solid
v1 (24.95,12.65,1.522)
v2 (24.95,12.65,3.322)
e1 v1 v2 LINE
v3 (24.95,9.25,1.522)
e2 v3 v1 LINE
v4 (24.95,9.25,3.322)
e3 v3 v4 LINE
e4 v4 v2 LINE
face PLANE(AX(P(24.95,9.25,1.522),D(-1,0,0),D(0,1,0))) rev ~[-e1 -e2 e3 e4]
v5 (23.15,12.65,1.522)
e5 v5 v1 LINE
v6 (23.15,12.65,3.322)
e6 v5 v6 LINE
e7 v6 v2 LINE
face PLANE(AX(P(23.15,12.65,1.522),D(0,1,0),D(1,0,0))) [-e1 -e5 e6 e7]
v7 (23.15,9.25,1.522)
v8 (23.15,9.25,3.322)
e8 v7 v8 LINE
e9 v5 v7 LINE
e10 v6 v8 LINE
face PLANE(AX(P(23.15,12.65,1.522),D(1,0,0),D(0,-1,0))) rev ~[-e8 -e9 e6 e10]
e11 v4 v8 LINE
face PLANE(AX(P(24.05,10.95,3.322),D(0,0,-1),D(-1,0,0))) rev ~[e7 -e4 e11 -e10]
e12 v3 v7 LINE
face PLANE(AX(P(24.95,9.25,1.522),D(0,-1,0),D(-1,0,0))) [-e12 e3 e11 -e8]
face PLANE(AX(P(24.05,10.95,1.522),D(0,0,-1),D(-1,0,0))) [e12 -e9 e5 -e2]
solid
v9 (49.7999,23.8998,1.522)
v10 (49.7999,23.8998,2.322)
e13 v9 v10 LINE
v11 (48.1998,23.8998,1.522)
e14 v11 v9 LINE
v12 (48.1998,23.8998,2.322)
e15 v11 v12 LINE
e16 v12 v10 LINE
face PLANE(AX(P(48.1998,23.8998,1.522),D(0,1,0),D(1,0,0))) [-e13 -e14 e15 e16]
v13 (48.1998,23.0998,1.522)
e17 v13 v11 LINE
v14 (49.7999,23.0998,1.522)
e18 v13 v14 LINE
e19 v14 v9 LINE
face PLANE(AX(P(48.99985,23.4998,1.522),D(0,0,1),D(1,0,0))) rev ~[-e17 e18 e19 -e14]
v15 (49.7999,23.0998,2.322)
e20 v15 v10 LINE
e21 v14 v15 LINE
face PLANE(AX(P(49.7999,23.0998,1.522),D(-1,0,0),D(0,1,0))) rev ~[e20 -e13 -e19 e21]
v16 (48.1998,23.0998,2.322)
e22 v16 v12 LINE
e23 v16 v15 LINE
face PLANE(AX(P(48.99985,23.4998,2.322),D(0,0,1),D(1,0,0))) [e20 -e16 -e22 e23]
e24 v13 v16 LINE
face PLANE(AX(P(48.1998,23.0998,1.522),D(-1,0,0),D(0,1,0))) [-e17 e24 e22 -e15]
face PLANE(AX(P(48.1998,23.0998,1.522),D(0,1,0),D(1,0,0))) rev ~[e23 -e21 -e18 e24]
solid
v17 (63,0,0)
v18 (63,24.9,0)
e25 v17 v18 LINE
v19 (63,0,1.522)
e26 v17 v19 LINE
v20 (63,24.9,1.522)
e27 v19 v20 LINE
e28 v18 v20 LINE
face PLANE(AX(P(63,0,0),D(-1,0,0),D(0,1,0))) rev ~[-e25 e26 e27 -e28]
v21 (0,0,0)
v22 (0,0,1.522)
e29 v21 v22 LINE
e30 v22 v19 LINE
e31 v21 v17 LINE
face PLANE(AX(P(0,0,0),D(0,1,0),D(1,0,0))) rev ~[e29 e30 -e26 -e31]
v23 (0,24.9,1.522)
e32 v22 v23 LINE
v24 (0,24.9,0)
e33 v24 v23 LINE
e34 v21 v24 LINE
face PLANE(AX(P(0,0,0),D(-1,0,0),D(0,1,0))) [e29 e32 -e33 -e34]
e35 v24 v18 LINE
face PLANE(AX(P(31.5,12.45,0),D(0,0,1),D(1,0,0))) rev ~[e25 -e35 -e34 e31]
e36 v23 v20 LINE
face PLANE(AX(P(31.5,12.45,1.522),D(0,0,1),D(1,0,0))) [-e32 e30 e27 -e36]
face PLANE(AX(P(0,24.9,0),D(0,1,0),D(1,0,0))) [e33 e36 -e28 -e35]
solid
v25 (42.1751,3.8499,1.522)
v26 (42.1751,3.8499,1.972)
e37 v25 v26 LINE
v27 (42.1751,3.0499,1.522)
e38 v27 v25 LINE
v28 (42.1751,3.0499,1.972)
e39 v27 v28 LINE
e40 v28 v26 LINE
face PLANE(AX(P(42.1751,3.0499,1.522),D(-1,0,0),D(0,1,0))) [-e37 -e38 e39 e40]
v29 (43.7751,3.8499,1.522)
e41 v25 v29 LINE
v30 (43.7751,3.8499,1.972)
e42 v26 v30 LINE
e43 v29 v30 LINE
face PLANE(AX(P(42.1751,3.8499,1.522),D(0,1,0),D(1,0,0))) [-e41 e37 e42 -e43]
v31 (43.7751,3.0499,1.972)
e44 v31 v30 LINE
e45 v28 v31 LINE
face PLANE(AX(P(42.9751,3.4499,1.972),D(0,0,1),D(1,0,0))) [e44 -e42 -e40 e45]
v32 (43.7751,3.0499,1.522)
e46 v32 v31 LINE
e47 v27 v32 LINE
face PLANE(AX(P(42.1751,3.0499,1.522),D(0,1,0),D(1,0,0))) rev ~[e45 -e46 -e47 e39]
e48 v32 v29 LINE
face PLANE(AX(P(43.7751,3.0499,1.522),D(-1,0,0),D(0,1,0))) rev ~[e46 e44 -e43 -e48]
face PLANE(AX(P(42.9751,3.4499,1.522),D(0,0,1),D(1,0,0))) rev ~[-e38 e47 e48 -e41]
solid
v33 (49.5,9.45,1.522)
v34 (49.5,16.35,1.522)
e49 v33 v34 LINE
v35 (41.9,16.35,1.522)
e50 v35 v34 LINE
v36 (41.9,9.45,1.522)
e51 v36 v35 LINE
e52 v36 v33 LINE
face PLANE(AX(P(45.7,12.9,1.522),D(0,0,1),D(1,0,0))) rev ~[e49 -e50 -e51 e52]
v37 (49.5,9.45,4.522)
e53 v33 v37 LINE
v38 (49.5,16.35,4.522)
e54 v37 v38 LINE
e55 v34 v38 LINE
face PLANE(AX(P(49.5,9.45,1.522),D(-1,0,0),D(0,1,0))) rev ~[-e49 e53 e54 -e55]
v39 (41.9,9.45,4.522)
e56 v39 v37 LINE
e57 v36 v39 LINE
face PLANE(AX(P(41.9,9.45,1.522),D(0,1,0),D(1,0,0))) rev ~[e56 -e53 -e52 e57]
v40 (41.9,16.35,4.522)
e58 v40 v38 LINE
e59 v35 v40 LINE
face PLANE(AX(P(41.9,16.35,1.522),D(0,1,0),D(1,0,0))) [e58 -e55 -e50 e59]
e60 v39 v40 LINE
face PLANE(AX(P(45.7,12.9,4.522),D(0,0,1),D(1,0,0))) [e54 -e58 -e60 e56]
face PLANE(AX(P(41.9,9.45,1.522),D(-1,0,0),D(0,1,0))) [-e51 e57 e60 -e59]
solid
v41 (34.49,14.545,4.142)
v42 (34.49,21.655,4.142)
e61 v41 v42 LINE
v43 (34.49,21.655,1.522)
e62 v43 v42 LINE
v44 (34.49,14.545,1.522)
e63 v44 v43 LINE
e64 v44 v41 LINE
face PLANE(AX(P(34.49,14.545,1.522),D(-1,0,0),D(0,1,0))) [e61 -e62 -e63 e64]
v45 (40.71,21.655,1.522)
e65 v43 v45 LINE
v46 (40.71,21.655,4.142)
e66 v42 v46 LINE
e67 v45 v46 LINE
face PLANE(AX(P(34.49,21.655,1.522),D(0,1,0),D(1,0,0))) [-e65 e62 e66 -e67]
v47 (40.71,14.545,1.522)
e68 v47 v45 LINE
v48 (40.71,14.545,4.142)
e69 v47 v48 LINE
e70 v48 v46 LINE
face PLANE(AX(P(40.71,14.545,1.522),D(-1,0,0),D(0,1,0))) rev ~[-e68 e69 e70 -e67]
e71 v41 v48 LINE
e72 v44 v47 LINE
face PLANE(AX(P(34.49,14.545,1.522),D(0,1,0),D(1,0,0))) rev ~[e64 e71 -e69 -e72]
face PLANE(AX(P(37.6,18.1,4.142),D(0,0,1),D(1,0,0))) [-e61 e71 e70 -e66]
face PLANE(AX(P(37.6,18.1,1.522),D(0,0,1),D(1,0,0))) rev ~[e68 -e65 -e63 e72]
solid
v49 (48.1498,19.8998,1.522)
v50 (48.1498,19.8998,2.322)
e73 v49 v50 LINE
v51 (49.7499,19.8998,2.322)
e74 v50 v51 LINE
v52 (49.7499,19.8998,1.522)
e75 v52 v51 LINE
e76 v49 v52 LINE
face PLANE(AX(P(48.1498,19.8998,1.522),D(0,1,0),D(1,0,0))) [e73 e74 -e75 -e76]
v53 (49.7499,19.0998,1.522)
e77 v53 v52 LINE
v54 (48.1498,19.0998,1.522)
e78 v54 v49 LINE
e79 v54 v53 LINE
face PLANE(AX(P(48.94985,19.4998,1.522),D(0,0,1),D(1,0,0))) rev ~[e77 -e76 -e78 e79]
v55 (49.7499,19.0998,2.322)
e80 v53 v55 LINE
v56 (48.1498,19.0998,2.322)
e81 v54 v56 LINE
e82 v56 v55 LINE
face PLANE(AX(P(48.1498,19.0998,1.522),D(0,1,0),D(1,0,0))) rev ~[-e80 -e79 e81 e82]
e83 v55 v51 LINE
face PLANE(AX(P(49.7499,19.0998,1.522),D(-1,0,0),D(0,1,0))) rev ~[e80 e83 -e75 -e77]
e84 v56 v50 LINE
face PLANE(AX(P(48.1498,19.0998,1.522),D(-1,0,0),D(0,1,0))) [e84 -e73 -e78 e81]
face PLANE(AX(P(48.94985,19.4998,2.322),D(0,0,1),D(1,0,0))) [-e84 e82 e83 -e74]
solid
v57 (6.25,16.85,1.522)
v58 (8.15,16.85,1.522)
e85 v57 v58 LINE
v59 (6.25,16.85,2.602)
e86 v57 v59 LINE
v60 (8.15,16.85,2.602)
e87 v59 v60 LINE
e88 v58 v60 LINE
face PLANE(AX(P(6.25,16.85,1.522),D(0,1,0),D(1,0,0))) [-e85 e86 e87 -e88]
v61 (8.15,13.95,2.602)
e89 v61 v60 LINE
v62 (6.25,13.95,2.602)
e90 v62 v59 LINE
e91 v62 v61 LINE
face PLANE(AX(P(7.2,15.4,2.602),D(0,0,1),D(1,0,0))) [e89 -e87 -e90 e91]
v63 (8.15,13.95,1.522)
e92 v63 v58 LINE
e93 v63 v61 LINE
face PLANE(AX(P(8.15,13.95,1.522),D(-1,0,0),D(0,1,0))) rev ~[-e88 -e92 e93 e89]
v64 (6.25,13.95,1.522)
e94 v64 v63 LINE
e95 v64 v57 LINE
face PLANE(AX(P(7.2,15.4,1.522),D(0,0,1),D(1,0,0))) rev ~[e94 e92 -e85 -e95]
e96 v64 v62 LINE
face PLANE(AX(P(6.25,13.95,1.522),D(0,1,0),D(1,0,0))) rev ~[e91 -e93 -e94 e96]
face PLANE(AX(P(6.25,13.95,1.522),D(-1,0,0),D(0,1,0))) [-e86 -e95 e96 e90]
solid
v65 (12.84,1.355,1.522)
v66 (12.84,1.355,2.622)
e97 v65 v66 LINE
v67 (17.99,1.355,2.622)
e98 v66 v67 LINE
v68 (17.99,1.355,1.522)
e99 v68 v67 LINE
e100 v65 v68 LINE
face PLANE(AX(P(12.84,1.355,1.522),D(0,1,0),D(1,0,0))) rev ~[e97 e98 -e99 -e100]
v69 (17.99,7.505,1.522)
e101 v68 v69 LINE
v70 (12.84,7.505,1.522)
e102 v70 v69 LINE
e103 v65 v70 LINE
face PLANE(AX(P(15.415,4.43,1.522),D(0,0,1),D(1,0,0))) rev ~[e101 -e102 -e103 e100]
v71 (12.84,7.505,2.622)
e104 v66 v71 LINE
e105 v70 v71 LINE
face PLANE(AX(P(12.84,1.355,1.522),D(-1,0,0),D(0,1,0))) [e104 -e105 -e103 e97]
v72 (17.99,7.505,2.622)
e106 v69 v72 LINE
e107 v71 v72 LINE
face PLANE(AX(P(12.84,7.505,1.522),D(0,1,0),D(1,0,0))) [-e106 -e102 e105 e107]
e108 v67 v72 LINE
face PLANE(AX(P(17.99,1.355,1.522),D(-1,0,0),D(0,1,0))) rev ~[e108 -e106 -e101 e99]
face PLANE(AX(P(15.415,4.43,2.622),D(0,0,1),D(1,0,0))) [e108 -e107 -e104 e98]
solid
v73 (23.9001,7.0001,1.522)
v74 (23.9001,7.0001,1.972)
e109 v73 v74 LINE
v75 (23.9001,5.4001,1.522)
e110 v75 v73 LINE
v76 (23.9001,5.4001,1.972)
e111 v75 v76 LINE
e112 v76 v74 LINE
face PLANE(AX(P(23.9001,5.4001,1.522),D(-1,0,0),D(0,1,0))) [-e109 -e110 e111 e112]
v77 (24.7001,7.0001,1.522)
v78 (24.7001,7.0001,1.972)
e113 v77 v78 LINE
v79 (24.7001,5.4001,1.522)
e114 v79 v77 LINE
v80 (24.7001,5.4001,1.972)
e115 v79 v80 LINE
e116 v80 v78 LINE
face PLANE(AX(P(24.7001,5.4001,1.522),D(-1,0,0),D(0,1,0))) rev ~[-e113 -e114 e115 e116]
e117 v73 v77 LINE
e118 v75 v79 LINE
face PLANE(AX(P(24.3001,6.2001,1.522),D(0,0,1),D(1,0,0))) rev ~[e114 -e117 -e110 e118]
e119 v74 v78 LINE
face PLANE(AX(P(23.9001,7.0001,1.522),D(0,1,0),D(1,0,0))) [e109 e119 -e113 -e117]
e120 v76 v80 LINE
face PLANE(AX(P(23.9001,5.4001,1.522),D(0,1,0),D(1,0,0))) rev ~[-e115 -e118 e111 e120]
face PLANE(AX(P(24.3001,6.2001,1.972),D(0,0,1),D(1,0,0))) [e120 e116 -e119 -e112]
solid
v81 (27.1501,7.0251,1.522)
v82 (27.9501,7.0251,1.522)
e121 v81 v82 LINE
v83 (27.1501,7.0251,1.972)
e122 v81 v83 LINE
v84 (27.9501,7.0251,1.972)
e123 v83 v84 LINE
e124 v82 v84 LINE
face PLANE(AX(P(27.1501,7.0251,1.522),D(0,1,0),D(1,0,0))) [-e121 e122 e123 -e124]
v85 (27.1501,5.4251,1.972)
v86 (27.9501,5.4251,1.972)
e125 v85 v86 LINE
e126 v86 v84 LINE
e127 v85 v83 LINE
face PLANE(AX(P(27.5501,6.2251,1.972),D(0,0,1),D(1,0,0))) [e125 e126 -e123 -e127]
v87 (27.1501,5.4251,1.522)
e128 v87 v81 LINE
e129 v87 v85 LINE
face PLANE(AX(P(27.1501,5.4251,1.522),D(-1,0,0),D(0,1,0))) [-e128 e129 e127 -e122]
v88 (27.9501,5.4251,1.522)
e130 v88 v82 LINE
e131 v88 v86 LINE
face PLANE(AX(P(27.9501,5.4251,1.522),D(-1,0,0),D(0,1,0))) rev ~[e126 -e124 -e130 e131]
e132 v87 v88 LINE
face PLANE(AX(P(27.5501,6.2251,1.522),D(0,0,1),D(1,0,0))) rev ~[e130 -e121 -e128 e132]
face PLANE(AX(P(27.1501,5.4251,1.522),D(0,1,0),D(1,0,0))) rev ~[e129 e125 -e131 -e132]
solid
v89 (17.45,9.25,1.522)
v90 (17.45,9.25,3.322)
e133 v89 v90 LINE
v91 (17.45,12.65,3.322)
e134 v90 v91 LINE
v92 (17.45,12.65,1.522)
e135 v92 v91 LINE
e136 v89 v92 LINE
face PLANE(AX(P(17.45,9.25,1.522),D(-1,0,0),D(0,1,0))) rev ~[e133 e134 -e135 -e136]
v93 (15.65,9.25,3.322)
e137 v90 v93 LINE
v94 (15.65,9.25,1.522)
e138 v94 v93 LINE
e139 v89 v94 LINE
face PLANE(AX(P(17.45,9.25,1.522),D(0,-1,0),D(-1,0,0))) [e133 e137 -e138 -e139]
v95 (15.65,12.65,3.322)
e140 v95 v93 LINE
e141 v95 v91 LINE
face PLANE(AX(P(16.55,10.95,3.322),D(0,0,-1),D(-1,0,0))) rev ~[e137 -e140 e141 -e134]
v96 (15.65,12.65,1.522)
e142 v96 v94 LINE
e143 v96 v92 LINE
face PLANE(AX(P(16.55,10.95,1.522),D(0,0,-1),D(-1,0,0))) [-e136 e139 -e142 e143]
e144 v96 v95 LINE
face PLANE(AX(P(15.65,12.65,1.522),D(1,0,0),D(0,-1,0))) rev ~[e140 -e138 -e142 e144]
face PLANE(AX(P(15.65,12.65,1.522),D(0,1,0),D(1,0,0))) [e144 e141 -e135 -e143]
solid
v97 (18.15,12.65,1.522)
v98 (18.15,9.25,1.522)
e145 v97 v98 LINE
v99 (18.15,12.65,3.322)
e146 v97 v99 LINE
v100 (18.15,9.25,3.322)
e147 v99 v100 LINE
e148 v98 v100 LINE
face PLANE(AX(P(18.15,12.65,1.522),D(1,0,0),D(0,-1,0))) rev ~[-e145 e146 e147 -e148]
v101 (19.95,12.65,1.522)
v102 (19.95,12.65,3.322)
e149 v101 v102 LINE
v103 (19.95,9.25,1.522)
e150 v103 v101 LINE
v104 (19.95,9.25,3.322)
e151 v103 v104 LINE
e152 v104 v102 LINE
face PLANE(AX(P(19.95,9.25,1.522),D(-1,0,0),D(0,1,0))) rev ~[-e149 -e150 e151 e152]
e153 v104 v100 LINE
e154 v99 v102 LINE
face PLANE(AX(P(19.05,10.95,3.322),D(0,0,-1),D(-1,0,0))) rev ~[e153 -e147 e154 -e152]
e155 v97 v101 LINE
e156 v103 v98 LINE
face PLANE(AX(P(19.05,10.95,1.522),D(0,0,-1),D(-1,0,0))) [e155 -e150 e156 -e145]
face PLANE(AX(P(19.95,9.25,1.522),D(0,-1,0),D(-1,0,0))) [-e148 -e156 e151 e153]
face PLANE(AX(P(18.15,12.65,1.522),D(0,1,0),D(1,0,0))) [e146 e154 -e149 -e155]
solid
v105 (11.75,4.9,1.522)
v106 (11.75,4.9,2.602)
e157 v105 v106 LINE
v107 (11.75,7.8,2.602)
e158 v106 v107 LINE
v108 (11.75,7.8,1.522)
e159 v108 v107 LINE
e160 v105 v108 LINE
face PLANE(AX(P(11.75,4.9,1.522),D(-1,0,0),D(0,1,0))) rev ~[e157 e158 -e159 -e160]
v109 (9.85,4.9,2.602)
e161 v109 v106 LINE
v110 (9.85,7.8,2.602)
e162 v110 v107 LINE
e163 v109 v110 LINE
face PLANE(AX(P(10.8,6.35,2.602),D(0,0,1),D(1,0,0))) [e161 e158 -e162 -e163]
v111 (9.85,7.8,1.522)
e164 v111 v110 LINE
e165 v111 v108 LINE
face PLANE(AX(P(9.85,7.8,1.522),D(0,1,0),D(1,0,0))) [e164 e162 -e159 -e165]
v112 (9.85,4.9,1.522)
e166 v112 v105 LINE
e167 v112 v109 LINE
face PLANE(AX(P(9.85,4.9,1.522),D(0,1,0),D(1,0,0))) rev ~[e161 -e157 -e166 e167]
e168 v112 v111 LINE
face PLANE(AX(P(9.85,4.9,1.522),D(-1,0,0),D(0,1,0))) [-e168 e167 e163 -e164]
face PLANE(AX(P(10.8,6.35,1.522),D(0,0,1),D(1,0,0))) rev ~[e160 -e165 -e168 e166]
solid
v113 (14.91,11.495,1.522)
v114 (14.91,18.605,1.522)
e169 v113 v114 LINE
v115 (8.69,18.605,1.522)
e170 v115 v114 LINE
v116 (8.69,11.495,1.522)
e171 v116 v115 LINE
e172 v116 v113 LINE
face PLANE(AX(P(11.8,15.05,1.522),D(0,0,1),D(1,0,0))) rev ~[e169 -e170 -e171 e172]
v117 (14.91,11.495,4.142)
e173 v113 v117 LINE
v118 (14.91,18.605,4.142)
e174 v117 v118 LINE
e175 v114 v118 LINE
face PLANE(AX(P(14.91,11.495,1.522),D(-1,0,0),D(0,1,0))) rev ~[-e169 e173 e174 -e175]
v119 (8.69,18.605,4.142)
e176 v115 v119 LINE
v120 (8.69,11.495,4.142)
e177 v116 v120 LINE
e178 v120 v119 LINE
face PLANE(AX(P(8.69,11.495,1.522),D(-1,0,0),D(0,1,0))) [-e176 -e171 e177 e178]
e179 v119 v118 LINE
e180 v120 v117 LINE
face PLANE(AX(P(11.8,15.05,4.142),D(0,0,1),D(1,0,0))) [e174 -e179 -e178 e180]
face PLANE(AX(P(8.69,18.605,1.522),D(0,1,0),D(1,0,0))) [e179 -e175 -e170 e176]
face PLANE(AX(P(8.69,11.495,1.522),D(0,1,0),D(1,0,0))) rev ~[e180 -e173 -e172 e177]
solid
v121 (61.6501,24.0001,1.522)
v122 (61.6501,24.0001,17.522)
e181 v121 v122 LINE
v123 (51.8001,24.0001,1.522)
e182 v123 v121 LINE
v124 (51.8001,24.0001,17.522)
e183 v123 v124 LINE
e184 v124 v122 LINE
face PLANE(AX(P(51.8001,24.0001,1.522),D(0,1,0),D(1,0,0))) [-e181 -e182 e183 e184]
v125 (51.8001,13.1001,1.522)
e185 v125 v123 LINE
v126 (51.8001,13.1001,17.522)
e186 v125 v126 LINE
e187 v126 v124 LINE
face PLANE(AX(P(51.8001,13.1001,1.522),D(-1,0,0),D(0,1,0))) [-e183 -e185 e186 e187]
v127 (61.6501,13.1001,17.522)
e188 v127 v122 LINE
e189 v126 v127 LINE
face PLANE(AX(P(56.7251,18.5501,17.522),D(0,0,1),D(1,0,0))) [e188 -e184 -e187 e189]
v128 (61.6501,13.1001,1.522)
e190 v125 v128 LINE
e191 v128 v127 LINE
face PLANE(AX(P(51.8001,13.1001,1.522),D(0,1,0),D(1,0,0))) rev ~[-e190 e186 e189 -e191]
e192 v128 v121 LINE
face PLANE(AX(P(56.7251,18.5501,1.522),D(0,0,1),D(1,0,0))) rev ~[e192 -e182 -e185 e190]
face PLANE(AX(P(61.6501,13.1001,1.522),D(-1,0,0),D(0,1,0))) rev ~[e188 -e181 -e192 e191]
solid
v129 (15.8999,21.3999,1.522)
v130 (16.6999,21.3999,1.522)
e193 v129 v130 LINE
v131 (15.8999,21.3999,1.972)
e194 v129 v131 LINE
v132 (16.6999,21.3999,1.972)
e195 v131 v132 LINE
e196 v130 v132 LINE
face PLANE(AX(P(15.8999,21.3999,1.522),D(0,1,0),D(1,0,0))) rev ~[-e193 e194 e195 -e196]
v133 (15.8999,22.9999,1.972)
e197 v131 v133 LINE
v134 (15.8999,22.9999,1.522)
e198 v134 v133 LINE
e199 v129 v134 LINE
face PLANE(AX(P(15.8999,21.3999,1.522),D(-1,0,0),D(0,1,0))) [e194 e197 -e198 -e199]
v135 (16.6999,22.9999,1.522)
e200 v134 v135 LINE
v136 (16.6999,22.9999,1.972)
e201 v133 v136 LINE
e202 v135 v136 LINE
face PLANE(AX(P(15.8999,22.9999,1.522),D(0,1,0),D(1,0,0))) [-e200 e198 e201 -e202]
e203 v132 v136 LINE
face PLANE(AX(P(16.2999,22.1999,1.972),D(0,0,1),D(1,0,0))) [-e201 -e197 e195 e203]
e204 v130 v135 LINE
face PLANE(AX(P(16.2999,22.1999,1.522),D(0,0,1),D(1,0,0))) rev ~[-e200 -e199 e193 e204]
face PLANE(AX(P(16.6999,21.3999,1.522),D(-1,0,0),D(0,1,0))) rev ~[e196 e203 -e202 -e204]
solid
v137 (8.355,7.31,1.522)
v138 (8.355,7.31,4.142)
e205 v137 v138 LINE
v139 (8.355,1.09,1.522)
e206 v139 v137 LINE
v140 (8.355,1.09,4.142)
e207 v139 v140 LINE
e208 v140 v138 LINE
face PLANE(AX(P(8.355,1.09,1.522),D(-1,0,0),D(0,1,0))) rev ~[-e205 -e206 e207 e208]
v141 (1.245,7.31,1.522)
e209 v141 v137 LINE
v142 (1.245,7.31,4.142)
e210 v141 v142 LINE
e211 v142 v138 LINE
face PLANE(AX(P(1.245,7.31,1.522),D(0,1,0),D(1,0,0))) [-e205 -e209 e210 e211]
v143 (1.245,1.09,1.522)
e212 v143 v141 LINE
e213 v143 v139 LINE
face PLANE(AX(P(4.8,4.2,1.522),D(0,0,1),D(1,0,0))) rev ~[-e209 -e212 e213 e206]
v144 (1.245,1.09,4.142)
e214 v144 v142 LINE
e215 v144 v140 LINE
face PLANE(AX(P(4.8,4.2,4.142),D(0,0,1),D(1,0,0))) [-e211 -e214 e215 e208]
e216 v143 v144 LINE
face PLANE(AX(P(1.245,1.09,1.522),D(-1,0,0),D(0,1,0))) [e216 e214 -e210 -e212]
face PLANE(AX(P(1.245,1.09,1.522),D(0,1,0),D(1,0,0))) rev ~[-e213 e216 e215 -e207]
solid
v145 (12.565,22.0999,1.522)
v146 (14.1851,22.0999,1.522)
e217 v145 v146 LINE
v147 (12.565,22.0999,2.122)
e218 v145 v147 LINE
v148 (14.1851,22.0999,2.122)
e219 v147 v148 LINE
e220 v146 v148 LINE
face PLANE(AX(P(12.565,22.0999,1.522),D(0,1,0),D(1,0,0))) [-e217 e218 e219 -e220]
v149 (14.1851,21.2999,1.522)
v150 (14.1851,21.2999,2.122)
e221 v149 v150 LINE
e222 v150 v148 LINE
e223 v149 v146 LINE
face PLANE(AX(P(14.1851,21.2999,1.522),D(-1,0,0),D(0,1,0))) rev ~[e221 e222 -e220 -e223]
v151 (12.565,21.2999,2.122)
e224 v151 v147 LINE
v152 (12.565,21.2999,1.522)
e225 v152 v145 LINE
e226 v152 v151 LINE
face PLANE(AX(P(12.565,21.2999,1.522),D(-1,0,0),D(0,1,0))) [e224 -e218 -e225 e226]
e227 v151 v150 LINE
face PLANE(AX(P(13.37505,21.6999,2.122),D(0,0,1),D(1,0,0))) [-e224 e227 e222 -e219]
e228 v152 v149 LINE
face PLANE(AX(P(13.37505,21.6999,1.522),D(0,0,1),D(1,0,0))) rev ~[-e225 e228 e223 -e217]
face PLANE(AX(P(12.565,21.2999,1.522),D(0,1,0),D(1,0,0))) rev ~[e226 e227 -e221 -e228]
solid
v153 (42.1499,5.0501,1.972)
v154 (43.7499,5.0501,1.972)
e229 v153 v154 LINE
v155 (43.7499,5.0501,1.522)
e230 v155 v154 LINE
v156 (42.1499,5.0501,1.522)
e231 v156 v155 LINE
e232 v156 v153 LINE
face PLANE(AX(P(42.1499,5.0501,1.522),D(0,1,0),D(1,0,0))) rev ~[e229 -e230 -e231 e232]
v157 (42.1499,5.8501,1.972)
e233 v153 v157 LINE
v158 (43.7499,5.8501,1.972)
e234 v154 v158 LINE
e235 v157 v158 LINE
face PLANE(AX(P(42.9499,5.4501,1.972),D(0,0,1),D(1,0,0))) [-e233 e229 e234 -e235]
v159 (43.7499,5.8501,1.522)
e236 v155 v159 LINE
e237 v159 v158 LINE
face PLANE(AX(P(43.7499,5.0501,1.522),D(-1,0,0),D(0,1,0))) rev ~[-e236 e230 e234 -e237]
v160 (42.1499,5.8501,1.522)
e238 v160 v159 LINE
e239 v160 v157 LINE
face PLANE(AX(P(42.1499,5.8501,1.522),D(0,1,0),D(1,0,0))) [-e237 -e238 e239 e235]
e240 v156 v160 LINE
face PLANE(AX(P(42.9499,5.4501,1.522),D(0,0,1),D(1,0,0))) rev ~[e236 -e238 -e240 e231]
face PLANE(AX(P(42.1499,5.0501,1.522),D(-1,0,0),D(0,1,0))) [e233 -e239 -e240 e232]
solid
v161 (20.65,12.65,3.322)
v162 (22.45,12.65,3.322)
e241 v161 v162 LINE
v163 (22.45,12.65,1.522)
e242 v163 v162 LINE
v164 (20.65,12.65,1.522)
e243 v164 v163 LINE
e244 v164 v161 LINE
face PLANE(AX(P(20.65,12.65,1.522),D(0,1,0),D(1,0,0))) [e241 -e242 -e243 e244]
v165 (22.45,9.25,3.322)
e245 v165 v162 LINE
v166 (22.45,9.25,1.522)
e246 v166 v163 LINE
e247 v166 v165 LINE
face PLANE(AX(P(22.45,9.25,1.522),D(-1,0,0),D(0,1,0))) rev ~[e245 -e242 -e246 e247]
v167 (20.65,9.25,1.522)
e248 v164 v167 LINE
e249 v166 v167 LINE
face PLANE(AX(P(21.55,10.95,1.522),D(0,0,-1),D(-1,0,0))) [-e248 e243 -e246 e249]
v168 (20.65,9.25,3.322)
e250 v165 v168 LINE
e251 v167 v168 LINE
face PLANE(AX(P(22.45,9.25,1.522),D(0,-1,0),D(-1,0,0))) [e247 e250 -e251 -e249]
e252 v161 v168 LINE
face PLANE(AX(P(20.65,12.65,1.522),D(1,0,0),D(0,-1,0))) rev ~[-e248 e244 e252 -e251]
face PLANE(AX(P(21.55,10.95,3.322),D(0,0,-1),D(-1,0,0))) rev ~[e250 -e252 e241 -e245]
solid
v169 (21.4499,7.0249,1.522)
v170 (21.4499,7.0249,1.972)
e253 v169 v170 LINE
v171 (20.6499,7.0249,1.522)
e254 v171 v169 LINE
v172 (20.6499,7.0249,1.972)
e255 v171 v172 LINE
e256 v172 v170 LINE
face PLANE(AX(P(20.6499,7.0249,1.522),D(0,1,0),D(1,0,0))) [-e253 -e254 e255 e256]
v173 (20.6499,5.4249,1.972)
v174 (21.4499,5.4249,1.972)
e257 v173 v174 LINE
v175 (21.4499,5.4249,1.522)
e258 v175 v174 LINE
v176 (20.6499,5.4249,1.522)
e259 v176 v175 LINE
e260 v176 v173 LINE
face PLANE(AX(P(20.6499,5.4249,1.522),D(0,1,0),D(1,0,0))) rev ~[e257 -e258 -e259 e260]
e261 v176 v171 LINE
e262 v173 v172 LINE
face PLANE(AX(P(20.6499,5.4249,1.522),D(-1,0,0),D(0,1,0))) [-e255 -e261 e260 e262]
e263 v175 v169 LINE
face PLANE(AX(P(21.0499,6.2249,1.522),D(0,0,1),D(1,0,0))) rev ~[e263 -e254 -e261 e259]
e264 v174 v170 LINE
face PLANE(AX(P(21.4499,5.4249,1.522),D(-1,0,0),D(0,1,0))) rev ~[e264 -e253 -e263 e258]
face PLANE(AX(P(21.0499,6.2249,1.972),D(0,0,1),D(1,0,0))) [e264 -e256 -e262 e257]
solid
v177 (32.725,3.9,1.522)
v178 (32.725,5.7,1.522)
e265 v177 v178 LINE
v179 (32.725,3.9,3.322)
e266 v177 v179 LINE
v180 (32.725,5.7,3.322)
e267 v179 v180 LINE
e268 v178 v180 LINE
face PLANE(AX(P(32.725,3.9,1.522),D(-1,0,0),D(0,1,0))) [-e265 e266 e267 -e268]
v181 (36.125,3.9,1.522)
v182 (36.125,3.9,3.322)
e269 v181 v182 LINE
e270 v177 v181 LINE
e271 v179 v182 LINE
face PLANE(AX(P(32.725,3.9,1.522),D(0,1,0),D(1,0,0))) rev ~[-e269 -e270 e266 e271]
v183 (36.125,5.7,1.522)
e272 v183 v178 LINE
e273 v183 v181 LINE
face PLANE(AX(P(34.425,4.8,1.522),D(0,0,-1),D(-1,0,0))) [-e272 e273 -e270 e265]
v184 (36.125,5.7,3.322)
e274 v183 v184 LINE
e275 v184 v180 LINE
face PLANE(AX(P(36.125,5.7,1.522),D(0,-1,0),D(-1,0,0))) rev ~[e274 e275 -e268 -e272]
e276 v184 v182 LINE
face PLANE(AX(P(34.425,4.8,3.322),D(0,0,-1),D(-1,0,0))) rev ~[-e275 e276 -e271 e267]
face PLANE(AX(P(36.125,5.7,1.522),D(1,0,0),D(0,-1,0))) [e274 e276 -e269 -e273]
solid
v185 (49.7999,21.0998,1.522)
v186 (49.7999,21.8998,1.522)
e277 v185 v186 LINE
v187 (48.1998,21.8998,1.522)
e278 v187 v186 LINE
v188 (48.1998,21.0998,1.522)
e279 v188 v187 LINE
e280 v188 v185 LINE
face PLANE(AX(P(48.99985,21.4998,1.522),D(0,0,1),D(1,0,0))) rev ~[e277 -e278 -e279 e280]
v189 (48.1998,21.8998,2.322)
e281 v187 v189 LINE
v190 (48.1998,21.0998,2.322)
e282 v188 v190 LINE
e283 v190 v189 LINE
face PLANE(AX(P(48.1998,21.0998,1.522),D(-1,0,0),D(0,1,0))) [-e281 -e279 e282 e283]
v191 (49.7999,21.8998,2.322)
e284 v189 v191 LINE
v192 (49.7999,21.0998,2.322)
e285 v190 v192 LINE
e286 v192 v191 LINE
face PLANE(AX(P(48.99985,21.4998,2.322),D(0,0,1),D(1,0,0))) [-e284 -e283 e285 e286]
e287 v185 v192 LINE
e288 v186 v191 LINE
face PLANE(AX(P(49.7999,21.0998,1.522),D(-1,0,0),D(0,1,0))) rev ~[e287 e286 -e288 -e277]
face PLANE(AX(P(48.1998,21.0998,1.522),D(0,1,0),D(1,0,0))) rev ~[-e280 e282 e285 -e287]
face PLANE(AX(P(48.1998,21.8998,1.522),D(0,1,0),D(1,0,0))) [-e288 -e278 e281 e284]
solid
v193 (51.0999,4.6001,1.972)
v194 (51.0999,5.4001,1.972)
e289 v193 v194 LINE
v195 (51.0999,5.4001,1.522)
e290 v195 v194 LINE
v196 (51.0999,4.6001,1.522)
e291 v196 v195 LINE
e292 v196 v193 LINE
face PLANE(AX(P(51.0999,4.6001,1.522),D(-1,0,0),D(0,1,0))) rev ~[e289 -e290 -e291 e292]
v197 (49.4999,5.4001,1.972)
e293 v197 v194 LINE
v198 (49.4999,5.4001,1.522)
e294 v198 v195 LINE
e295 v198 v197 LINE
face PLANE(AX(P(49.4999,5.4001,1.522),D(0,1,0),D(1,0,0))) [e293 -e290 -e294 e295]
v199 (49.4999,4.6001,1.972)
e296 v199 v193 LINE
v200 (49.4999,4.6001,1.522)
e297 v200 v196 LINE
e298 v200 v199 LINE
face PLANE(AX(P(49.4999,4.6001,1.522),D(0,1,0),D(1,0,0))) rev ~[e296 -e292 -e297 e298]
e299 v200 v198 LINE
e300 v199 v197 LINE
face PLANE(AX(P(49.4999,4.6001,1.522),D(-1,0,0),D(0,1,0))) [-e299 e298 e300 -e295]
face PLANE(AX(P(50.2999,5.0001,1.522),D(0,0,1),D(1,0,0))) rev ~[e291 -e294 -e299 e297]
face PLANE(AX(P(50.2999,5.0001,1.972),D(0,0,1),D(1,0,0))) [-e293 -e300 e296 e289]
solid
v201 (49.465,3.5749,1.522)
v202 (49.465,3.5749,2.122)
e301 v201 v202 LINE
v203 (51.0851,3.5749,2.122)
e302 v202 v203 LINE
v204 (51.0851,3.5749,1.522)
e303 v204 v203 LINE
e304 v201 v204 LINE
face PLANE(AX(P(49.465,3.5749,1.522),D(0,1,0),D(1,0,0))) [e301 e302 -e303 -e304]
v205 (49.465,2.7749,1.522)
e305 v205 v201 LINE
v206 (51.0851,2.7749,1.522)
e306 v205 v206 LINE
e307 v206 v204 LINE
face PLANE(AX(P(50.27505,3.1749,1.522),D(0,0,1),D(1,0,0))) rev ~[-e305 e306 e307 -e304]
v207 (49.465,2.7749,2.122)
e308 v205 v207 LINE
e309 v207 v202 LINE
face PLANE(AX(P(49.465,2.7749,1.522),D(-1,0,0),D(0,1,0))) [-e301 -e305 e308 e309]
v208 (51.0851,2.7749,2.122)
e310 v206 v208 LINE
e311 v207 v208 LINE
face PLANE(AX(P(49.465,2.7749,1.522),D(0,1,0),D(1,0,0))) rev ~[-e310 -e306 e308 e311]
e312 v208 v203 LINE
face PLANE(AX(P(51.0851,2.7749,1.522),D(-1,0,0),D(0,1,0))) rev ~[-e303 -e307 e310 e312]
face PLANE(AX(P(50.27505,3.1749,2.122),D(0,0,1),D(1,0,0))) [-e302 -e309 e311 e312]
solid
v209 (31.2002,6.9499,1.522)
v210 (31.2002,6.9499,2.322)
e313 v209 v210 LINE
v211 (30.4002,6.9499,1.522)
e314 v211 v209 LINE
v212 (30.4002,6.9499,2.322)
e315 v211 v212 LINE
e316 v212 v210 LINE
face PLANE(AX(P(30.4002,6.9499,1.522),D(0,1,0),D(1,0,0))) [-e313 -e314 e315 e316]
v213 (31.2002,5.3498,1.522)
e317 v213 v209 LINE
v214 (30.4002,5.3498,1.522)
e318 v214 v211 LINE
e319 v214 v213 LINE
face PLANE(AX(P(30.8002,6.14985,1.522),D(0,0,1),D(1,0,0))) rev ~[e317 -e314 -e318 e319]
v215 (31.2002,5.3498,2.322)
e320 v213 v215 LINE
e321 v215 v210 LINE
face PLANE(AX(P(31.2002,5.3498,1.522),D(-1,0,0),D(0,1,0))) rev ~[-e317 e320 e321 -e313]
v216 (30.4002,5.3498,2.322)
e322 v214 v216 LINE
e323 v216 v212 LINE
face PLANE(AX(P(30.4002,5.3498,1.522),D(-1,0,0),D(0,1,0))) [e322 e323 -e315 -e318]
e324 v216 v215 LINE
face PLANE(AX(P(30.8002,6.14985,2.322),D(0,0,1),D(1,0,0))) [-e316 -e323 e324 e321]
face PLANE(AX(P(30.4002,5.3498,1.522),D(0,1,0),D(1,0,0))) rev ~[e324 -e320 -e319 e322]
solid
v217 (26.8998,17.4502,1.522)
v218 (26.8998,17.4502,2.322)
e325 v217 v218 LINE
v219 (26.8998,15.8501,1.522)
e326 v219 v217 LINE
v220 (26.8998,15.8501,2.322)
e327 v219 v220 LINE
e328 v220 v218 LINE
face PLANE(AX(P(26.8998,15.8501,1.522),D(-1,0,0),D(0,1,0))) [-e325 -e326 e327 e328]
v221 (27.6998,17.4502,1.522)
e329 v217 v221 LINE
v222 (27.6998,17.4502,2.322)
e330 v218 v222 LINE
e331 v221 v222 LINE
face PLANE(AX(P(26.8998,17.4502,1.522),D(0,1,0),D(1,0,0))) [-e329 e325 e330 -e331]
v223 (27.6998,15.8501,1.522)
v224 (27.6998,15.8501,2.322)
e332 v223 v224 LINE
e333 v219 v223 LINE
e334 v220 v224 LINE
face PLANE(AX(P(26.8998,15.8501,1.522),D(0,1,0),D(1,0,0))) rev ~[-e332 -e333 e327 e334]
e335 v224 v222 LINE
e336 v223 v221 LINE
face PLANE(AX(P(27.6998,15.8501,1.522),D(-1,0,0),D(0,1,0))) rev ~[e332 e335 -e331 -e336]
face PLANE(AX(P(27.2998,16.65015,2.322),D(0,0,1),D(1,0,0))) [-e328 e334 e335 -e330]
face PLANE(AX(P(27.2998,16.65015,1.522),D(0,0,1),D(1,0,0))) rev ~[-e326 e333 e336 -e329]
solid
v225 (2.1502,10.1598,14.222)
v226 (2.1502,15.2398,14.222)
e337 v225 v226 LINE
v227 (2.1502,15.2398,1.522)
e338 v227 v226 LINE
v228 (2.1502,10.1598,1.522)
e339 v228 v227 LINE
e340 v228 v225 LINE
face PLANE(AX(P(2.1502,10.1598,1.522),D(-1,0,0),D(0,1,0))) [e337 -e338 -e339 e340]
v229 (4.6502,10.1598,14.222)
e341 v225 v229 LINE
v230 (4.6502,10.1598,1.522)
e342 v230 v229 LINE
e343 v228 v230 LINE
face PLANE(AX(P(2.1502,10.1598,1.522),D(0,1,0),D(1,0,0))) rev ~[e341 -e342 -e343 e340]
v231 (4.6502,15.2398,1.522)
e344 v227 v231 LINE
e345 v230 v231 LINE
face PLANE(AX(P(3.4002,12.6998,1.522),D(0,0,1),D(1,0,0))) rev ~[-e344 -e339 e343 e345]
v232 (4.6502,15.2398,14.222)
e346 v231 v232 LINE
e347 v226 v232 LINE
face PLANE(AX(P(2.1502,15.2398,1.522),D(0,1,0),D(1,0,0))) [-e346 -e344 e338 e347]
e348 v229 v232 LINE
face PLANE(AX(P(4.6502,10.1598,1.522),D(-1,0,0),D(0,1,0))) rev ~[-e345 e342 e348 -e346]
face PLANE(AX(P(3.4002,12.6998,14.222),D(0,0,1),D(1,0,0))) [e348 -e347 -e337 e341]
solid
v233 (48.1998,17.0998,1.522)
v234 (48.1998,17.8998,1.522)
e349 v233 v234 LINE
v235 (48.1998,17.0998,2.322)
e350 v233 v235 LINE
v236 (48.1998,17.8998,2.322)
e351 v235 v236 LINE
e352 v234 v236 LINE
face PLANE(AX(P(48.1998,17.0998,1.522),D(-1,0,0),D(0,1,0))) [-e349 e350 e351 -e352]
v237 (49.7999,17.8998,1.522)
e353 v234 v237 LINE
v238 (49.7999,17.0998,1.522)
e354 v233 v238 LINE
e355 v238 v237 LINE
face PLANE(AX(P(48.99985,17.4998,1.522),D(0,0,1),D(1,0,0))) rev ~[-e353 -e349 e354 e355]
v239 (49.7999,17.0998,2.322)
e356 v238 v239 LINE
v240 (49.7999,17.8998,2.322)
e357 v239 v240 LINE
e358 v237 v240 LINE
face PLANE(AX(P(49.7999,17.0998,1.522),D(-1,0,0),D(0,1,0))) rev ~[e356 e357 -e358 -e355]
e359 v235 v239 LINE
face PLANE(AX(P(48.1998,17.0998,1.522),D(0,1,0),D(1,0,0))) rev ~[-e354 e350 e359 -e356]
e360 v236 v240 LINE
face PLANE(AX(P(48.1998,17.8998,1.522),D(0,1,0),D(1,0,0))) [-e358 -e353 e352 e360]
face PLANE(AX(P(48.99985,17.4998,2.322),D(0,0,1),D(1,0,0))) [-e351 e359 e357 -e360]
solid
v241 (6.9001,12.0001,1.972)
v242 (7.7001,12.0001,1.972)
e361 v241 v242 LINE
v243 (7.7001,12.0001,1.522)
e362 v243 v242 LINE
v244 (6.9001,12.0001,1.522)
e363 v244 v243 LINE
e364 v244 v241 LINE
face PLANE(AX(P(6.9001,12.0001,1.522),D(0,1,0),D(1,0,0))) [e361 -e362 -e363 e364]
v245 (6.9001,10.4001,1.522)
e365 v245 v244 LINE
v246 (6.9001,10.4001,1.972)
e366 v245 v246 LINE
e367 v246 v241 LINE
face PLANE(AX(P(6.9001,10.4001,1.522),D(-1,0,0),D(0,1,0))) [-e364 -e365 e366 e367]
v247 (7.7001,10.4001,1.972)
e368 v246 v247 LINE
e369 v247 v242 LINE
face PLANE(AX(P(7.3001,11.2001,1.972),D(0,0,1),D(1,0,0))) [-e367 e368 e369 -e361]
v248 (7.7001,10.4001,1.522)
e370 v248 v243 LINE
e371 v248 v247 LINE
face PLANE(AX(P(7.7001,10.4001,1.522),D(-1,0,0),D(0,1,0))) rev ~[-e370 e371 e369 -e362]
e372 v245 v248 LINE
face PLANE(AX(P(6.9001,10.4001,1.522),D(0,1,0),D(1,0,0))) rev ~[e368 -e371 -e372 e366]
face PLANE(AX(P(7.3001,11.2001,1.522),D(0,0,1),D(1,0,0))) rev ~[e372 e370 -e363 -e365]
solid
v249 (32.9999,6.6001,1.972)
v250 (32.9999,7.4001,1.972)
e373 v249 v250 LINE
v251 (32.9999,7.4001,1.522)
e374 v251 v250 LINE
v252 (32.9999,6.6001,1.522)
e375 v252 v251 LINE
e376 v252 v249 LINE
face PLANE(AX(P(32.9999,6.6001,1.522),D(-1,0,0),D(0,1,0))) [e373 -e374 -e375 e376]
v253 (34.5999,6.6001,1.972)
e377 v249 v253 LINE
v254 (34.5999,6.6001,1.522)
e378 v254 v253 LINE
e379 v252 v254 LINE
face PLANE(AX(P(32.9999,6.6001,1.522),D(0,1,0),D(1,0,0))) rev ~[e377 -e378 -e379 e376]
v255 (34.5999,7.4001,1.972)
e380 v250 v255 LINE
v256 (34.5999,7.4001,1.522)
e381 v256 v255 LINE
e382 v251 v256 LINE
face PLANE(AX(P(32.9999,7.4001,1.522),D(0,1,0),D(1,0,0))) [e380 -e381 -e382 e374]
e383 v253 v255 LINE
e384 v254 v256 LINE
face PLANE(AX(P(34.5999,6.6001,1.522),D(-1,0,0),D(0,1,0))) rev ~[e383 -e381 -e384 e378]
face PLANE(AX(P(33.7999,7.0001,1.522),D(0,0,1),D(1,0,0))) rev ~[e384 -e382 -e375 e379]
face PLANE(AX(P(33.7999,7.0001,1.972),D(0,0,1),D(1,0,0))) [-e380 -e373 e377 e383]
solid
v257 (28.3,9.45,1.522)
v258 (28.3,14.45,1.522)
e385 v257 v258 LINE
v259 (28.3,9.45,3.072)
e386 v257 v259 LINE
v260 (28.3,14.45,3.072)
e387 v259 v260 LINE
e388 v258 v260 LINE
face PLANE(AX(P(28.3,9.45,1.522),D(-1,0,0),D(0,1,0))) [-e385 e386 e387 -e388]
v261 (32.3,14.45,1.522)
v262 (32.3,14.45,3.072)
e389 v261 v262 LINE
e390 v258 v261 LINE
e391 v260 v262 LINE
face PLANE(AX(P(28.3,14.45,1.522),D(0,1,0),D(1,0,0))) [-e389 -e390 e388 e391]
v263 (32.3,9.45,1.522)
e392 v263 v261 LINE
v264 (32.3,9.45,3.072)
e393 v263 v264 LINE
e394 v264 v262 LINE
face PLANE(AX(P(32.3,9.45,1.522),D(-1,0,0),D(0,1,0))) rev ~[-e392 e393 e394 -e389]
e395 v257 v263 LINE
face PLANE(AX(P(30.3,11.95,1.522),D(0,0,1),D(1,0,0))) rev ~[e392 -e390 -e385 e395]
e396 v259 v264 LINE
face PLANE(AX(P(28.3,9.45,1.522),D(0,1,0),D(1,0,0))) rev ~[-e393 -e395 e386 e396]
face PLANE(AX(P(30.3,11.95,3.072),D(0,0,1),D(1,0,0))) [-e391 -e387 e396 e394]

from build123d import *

# Parameters (mm, degrees)
SKETCH_1_W                  = 63
SKETCH_1_H                  = 24.9
BOARD_DEPTH                 = 1.522
SKETCH_2_W                  = 2.5
SKETCH_2_H                  = 5.08
TE_826629_2_1_DEPTH         = 12.7
EXTRUDE_C1206_1_DEPTH       = 1.8
SKETCH_4_W                  = 1.9
SKETCH_4_H                  = 2.9
DO_219AB_1_DEPTH            = 1.08
EXTRUDE_C1206_2_DEPTH       = 1.8
SKETCH_6_W                  = 0.8
SKETCH_6_H                  = 1.6001
EXTRUDE_C0603_1_DEPTH       = 0.8
SKETCH_7_W                  = 9.85
SKETCH_7_H                  = 10.9
EXTRUDE_4_1775099_0_1_DEPTH = 16
SKETCH_8_W                  = 5.15
SKETCH_8_H                  = 6.15
SON_8_1_DEPTH               = 1.1
SKETCH_9_W                  = 6.22
SKETCH_9_H                  = 7.11
DO_214AB_1_DEPTH            = 2.62
SKETCH_10_W                 = 7.11
SKETCH_10_H                 = 6.22
DO_214AB_2_DEPTH            = 2.62
SKETCH_11_W                 = 1.9
SKETCH_11_H                 = 2.9
DO_219AB_2_DEPTH            = 1.08
SKETCH_12_W                 = 6.22
SKETCH_12_H                 = 7.11
DO_214AB_3_DEPTH            = 2.62
SKETCH_13_W                 = 1.6
SKETCH_13_H                 = 0.8
EXTRUDE_R0603_1_DEPTH       = 0.45
SKETCH_14_W                 = 1.6
SKETCH_14_H                 = 0.8
EXTRUDE_R0603_2_DEPTH       = 0.45
SKETCH_15_W                 = 1.6
SKETCH_15_H                 = 0.8
EXTRUDE_R0603_3_DEPTH       = 0.45
SKETCH_16_W                 = 1.6
SKETCH_16_H                 = 0.8
EXTRUDE_R0603_4_DEPTH       = 0.45
SKETCH_17_W                 = 0.8
SKETCH_17_H                 = 1.6
EXTRUDE_R0603_5_DEPTH       = 0.45
SKETCH_18_W                 = 0.8
SKETCH_18_H                 = 1.6
EXTRUDE_R0603_6_DEPTH       = 0.45
SKETCH_19_W                 = 0.8
SKETCH_19_H                 = 1.6
EXTRUDE_R0603_7_DEPTH       = 0.45
SKETCH_20_W                 = 0.8
SKETCH_20_H                 = 1.6
EXTRUDE_R0603_8_DEPTH       = 0.45
SKETCH_21_W                 = 0.8
SKETCH_21_H                 = 1.6
EXTRUDE_R0603_9_DEPTH       = 0.45
SKETCH_22_W                 = 7.6
SKETCH_22_H                 = 6.9
SRP_2_670X660X280_1_DEPTH   = 3
SKETCH_23_W                 = 1.6201
SKETCH_23_H                 = 0.8
HL0603_1_DEPTH              = 0.6
SKETCH_24_W                 = 1.6201
SKETCH_24_H                 = 0.8
HL0603_2_DEPTH              = 0.6
SKETCH_25_W                 = 4
SKETCH_25_H                 = 5
HSOIC_8_1_DEPTH             = 1.55
SKETCH_26_W                 = 1.6001
SKETCH_26_H                 = 0.8
EXTRUDE_C0603_2_DEPTH       = 0.8
SKETCH_27_W                 = 1.6001
SKETCH_27_H                 = 0.8
EXTRUDE_C0603_3_DEPTH       = 0.8
SKETCH_28_W                 = 1.6001
SKETCH_28_H                 = 0.8
EXTRUDE_C0603_4_DEPTH       = 0.8
SKETCH_29_W                 = 1.6001
SKETCH_29_H                 = 0.8
EXTRUDE_C0603_5_DEPTH       = 0.8
SKETCH_30_W                 = 0.8
SKETCH_30_H                 = 1.6001
EXTRUDE_C0603_6_DEPTH       = 0.8
EXTRUDE_C1206_3_DEPTH       = 1.8
EXTRUDE_C1206_4_DEPTH       = 1.8
EXTRUDE_C1206_5_DEPTH       = 1.8


with BuildPart() as part:
    # Эскиз1 → BOARD (new body)
    with BuildSketch(Plane.XY):
        with Locations((31.5, 12.45)):
            Rectangle(SKETCH_1_W, SKETCH_1_H)
    extrude(amount=BOARD_DEPTH)


with BuildPart() as body_2:
    # Эскиз2 → TE_826629-2-1 (new body)
    with BuildSketch(Plane.XY.offset(1.522)):
        with Locations((3.4002, 12.6998)):
            Rectangle(SKETCH_2_W, SKETCH_2_H)
    extrude(amount=TE_826629_2_1_DEPTH)


with BuildPart() as body_3:
    # Эскиз3 → C1206-1 (new body)
    with BuildSketch(Plane.XY.offset(1.522)):
        Polygon((19.95, 11.85), (19.95, 10.05), (19.95, 9.25), (18.15, 9.25), (18.15, 10.05), (18.15, 11.85), (18.15, 12.65), (19.95, 12.65), align=None)
    extrude(amount=EXTRUDE_C1206_1_DEPTH)


with BuildPart() as body_4:
    # Эскиз4 → DO-219AB-1 (new body)
    with BuildSketch(Plane.XY.offset(1.522)):
        with Locations((7.2, 15.4)):
            Rectangle(SKETCH_4_W, SKETCH_4_H)
    extrude(amount=DO_219AB_1_DEPTH)


with BuildPart() as body_5:
    # Эскиз5 → C1206-2 (new body)
    with BuildSketch(Plane.XY.offset(1.522)):
        Polygon((35.325, 3.9), (33.525, 3.9), (32.725, 3.9), (32.725, 5.7), (33.525, 5.7), (35.325, 5.7), (36.125, 5.7), (36.125, 3.9), align=None)
    extrude(amount=EXTRUDE_C1206_2_DEPTH)


with BuildPart() as body_6:
    # Эскиз6 → C0603-1 (new body)
    with BuildSketch(Plane.XY.offset(1.522)):
        with Locations((30.8002, 6.14985)):
            Rectangle(SKETCH_6_W, SKETCH_6_H)
    extrude(amount=EXTRUDE_C0603_1_DEPTH)


with BuildPart() as body_7:
    # Эскиз7 → 4-1775099-0-1 (new body)
    with BuildSketch(Plane.XY.offset(1.522)):
        with Locations((56.7251, 18.5501)):
            Rectangle(SKETCH_7_W, SKETCH_7_H)
    extrude(amount=EXTRUDE_4_1775099_0_1_DEPTH)


with BuildPart() as body_8:
    # Эскиз8 → SON-8-1 (new body)
    with BuildSketch(Plane.XY.offset(1.522)):
        with Locations((15.415, 4.43)):
            Rectangle(SKETCH_8_W, SKETCH_8_H)
    extrude(amount=SON_8_1_DEPTH)


with BuildPart() as body_9:
    # Эскиз9 → DO-214AB-1 (new body)
    with BuildSketch(Plane.XY.offset(1.522)):
        with Locations((37.6, 18.1)):
            Rectangle(SKETCH_9_W, SKETCH_9_H)
    extrude(amount=DO_214AB_1_DEPTH)


with BuildPart() as body_10:
    # Эскиз10 → DO-214AB-2 (new body)
    with BuildSketch(Plane.XY.offset(1.522)):
        with Locations((4.8, 4.2)):
            Rectangle(SKETCH_10_W, SKETCH_10_H)
    extrude(amount=DO_214AB_2_DEPTH)


with BuildPart() as body_11:
    # Эскиз11 → DO-219AB-2 (new body)
    with BuildSketch(Plane.XY.offset(1.522)):
        with Locations((10.8, 6.35)):
            Rectangle(SKETCH_11_W, SKETCH_11_H)
    extrude(amount=DO_219AB_2_DEPTH)


with BuildPart() as body_12:
    # Эскиз12 → DO-214AB-3 (new body)
    with BuildSketch(Plane.XY.offset(1.522)):
        with Locations((11.8, 15.05)):
            Rectangle(SKETCH_12_W, SKETCH_12_H)
    extrude(amount=DO_214AB_3_DEPTH)


with BuildPart() as body_13:
    # Эскиз13 → R0603-1 (new body)
    with BuildSketch(Plane.XY.offset(1.522)):
        with Locations((50.2999, 5.0001)):
            Rectangle(SKETCH_13_W, SKETCH_13_H)
    extrude(amount=EXTRUDE_R0603_1_DEPTH)


with BuildPart() as body_14:
    # Эскиз14 → R0603-2 (new body)
    with BuildSketch(Plane.XY.offset(1.522)):
        with Locations((42.9499, 5.4501)):
            Rectangle(SKETCH_14_W, SKETCH_14_H)
    extrude(amount=EXTRUDE_R0603_2_DEPTH)


with BuildPart() as body_15:
    # Эскиз15 → R0603-3 (new body)
    with BuildSketch(Plane.XY.offset(1.522)):
        with Locations((42.9751, 3.4499)):
            Rectangle(SKETCH_15_W, SKETCH_15_H)
    extrude(amount=EXTRUDE_R0603_3_DEPTH)


with BuildPart() as body_16:
    # Эскиз16 → R0603-4 (new body)
    with BuildSketch(Plane.XY.offset(1.522)):
        with Locations((33.7999, 7.0001)):
            Rectangle(SKETCH_16_W, SKETCH_16_H)
    extrude(amount=EXTRUDE_R0603_4_DEPTH)


with BuildPart() as body_17:
    # Эскиз17 → R0603-5 (new body)
    with BuildSketch(Plane.XY.offset(1.522)):
        with Locations((27.5501, 6.2251)):
            Rectangle(SKETCH_17_W, SKETCH_17_H)
    extrude(amount=EXTRUDE_R0603_5_DEPTH)


with BuildPart() as body_18:
    # Эскиз18 → R0603-6 (new body)
    with BuildSketch(Plane.XY.offset(1.522)):
        with Locations((21.0499, 6.2249)):
            Rectangle(SKETCH_18_W, SKETCH_18_H)
    extrude(amount=EXTRUDE_R0603_6_DEPTH)


with BuildPart() as body_19:
    # Эскиз19 → R0603-7 (new body)
    with BuildSketch(Plane.XY.offset(1.522)):
        with Locations((24.3001, 6.2001)):
            Rectangle(SKETCH_19_W, SKETCH_19_H)
    extrude(amount=EXTRUDE_R0603_7_DEPTH)


with BuildPart() as body_20:
    # Эскиз20 → R0603-8 (new body)
    with BuildSketch(Plane.XY.offset(1.522)):
        with Locations((7.3001, 11.2001)):
            Rectangle(SKETCH_20_W, SKETCH_20_H)
    extrude(amount=EXTRUDE_R0603_8_DEPTH)


with BuildPart() as body_21:
    # Эскиз21 → R0603-9 (new body)
    with BuildSketch(Plane.XY.offset(1.522)):
        with Locations((16.2999, 22.1999)):
            Rectangle(SKETCH_21_W, SKETCH_21_H)
    extrude(amount=EXTRUDE_R0603_9_DEPTH)


with BuildPart() as body_22:
    # Эскиз22 → SRP-2-670X660X280-1 (new body)
    with BuildSketch(Plane.XY.offset(1.522)):
        with Locations((45.7, 12.9)):
            Rectangle(SKETCH_22_W, SKETCH_22_H)
    extrude(amount=SRP_2_670X660X280_1_DEPTH)


with BuildPart() as body_23:
    # Эскиз23 → HL0603-1 (new body)
    with BuildSketch(Plane.XY.offset(1.522)):
        with Locations((50.27505, 3.1749)):
            Rectangle(SKETCH_23_W, SKETCH_23_H)
    extrude(amount=HL0603_1_DEPTH)


with BuildPart() as body_24:
    # Эскиз24 → HL0603-2 (new body)
    with BuildSketch(Plane.XY.offset(1.522)):
        with Locations((13.37505, 21.6999)):
            Rectangle(SKETCH_24_W, SKETCH_24_H)
    extrude(amount=HL0603_2_DEPTH)


with BuildPart() as body_25:
    # Эскиз25 → HSOIC-8-1 (new body)
    with BuildSketch(Plane.XY.offset(1.522)):
        with Locations((30.3, 11.95)):
            Rectangle(SKETCH_25_W, SKETCH_25_H)
    extrude(amount=HSOIC_8_1_DEPTH)


with BuildPart() as body_26:
    # Эскиз26 → C0603-2 (new body)
    with BuildSketch(Plane.XY.offset(1.522)):
        with Locations((48.99985, 23.4998)):
            Rectangle(SKETCH_26_W, SKETCH_26_H)
    extrude(amount=EXTRUDE_C0603_2_DEPTH)


with BuildPart() as body_27:
    # Эскиз27 → C0603-3 (new body)
    with BuildSketch(Plane.XY.offset(1.522)):
        with Locations((48.99985, 21.4998)):
            Rectangle(SKETCH_27_W, SKETCH_27_H)
    extrude(amount=EXTRUDE_C0603_3_DEPTH)


with BuildPart() as body_28:
    # Эскиз28 → C0603-4 (new body)
    with BuildSketch(Plane.XY.offset(1.522)):
        with Locations((48.94985, 19.4998)):
            Rectangle(SKETCH_28_W, SKETCH_28_H)
    extrude(amount=EXTRUDE_C0603_4_DEPTH)


with BuildPart() as body_29:
    # Эскиз29 → C0603-5 (new body)
    with BuildSketch(Plane.XY.offset(1.522)):
        with Locations((48.99985, 17.4998)):
            Rectangle(SKETCH_29_W, SKETCH_29_H)
    extrude(amount=EXTRUDE_C0603_5_DEPTH)


with BuildPart() as body_30:
    # Эскиз30 → C0603-6 (new body)
    with BuildSketch(Plane.XY.offset(1.522)):
        with Locations((27.2998, 16.65015)):
            Rectangle(SKETCH_30_W, SKETCH_30_H)
    extrude(amount=EXTRUDE_C0603_6_DEPTH)


with BuildPart() as body_31:
    # Эскиз31 → C1206-3 (new body)
    with BuildSketch(Plane.XY.offset(1.522)):
        Polygon((24.95, 11.85), (24.95, 10.05), (24.95, 9.25), (23.15, 9.25), (23.15, 10.05), (23.15, 11.85), (23.15, 12.65), (24.95, 12.65), align=None)
    extrude(amount=EXTRUDE_C1206_3_DEPTH)


with BuildPart() as body_32:
    # Эскиз32 → C1206-4 (new body)
    with BuildSketch(Plane.XY.offset(1.522)):
        Polygon((22.45, 11.85), (22.45, 10.05), (22.45, 9.25), (20.65, 9.25), (20.65, 10.05), (20.65, 11.85), (20.65, 12.65), (22.45, 12.65), align=None)
    extrude(amount=EXTRUDE_C1206_4_DEPTH)


with BuildPart() as body_33:
    # Эскиз33 → C1206-5 (new body)
    with BuildSketch(Plane.XY.offset(1.522)):
        Polygon((17.45, 11.85), (17.45, 10.05), (17.45, 9.25), (15.65, 9.25), (15.65, 10.05), (15.65, 11.85), (15.65, 12.65), (17.45, 12.65), align=None)
    extrude(amount=EXTRUDE_C1206_5_DEPTH)


solid = Compound([part.part, body_2.part, body_3.part, body_4.part, body_5.part, body_6.part, body_7.part, body_8.part, body_9.part, body_10.part, body_11.part, body_12.part, body_13.part, body_14.part, body_15.part, body_16.part, body_17.part, body_18.part, body_19.part, body_20.part, body_21.part, body_22.part, body_23.part, body_24.part, body_25.part, body_26.part, body_27.part, body_28.part, body_29.part, body_30.part, body_31.part, body_32.part, body_33.part])
